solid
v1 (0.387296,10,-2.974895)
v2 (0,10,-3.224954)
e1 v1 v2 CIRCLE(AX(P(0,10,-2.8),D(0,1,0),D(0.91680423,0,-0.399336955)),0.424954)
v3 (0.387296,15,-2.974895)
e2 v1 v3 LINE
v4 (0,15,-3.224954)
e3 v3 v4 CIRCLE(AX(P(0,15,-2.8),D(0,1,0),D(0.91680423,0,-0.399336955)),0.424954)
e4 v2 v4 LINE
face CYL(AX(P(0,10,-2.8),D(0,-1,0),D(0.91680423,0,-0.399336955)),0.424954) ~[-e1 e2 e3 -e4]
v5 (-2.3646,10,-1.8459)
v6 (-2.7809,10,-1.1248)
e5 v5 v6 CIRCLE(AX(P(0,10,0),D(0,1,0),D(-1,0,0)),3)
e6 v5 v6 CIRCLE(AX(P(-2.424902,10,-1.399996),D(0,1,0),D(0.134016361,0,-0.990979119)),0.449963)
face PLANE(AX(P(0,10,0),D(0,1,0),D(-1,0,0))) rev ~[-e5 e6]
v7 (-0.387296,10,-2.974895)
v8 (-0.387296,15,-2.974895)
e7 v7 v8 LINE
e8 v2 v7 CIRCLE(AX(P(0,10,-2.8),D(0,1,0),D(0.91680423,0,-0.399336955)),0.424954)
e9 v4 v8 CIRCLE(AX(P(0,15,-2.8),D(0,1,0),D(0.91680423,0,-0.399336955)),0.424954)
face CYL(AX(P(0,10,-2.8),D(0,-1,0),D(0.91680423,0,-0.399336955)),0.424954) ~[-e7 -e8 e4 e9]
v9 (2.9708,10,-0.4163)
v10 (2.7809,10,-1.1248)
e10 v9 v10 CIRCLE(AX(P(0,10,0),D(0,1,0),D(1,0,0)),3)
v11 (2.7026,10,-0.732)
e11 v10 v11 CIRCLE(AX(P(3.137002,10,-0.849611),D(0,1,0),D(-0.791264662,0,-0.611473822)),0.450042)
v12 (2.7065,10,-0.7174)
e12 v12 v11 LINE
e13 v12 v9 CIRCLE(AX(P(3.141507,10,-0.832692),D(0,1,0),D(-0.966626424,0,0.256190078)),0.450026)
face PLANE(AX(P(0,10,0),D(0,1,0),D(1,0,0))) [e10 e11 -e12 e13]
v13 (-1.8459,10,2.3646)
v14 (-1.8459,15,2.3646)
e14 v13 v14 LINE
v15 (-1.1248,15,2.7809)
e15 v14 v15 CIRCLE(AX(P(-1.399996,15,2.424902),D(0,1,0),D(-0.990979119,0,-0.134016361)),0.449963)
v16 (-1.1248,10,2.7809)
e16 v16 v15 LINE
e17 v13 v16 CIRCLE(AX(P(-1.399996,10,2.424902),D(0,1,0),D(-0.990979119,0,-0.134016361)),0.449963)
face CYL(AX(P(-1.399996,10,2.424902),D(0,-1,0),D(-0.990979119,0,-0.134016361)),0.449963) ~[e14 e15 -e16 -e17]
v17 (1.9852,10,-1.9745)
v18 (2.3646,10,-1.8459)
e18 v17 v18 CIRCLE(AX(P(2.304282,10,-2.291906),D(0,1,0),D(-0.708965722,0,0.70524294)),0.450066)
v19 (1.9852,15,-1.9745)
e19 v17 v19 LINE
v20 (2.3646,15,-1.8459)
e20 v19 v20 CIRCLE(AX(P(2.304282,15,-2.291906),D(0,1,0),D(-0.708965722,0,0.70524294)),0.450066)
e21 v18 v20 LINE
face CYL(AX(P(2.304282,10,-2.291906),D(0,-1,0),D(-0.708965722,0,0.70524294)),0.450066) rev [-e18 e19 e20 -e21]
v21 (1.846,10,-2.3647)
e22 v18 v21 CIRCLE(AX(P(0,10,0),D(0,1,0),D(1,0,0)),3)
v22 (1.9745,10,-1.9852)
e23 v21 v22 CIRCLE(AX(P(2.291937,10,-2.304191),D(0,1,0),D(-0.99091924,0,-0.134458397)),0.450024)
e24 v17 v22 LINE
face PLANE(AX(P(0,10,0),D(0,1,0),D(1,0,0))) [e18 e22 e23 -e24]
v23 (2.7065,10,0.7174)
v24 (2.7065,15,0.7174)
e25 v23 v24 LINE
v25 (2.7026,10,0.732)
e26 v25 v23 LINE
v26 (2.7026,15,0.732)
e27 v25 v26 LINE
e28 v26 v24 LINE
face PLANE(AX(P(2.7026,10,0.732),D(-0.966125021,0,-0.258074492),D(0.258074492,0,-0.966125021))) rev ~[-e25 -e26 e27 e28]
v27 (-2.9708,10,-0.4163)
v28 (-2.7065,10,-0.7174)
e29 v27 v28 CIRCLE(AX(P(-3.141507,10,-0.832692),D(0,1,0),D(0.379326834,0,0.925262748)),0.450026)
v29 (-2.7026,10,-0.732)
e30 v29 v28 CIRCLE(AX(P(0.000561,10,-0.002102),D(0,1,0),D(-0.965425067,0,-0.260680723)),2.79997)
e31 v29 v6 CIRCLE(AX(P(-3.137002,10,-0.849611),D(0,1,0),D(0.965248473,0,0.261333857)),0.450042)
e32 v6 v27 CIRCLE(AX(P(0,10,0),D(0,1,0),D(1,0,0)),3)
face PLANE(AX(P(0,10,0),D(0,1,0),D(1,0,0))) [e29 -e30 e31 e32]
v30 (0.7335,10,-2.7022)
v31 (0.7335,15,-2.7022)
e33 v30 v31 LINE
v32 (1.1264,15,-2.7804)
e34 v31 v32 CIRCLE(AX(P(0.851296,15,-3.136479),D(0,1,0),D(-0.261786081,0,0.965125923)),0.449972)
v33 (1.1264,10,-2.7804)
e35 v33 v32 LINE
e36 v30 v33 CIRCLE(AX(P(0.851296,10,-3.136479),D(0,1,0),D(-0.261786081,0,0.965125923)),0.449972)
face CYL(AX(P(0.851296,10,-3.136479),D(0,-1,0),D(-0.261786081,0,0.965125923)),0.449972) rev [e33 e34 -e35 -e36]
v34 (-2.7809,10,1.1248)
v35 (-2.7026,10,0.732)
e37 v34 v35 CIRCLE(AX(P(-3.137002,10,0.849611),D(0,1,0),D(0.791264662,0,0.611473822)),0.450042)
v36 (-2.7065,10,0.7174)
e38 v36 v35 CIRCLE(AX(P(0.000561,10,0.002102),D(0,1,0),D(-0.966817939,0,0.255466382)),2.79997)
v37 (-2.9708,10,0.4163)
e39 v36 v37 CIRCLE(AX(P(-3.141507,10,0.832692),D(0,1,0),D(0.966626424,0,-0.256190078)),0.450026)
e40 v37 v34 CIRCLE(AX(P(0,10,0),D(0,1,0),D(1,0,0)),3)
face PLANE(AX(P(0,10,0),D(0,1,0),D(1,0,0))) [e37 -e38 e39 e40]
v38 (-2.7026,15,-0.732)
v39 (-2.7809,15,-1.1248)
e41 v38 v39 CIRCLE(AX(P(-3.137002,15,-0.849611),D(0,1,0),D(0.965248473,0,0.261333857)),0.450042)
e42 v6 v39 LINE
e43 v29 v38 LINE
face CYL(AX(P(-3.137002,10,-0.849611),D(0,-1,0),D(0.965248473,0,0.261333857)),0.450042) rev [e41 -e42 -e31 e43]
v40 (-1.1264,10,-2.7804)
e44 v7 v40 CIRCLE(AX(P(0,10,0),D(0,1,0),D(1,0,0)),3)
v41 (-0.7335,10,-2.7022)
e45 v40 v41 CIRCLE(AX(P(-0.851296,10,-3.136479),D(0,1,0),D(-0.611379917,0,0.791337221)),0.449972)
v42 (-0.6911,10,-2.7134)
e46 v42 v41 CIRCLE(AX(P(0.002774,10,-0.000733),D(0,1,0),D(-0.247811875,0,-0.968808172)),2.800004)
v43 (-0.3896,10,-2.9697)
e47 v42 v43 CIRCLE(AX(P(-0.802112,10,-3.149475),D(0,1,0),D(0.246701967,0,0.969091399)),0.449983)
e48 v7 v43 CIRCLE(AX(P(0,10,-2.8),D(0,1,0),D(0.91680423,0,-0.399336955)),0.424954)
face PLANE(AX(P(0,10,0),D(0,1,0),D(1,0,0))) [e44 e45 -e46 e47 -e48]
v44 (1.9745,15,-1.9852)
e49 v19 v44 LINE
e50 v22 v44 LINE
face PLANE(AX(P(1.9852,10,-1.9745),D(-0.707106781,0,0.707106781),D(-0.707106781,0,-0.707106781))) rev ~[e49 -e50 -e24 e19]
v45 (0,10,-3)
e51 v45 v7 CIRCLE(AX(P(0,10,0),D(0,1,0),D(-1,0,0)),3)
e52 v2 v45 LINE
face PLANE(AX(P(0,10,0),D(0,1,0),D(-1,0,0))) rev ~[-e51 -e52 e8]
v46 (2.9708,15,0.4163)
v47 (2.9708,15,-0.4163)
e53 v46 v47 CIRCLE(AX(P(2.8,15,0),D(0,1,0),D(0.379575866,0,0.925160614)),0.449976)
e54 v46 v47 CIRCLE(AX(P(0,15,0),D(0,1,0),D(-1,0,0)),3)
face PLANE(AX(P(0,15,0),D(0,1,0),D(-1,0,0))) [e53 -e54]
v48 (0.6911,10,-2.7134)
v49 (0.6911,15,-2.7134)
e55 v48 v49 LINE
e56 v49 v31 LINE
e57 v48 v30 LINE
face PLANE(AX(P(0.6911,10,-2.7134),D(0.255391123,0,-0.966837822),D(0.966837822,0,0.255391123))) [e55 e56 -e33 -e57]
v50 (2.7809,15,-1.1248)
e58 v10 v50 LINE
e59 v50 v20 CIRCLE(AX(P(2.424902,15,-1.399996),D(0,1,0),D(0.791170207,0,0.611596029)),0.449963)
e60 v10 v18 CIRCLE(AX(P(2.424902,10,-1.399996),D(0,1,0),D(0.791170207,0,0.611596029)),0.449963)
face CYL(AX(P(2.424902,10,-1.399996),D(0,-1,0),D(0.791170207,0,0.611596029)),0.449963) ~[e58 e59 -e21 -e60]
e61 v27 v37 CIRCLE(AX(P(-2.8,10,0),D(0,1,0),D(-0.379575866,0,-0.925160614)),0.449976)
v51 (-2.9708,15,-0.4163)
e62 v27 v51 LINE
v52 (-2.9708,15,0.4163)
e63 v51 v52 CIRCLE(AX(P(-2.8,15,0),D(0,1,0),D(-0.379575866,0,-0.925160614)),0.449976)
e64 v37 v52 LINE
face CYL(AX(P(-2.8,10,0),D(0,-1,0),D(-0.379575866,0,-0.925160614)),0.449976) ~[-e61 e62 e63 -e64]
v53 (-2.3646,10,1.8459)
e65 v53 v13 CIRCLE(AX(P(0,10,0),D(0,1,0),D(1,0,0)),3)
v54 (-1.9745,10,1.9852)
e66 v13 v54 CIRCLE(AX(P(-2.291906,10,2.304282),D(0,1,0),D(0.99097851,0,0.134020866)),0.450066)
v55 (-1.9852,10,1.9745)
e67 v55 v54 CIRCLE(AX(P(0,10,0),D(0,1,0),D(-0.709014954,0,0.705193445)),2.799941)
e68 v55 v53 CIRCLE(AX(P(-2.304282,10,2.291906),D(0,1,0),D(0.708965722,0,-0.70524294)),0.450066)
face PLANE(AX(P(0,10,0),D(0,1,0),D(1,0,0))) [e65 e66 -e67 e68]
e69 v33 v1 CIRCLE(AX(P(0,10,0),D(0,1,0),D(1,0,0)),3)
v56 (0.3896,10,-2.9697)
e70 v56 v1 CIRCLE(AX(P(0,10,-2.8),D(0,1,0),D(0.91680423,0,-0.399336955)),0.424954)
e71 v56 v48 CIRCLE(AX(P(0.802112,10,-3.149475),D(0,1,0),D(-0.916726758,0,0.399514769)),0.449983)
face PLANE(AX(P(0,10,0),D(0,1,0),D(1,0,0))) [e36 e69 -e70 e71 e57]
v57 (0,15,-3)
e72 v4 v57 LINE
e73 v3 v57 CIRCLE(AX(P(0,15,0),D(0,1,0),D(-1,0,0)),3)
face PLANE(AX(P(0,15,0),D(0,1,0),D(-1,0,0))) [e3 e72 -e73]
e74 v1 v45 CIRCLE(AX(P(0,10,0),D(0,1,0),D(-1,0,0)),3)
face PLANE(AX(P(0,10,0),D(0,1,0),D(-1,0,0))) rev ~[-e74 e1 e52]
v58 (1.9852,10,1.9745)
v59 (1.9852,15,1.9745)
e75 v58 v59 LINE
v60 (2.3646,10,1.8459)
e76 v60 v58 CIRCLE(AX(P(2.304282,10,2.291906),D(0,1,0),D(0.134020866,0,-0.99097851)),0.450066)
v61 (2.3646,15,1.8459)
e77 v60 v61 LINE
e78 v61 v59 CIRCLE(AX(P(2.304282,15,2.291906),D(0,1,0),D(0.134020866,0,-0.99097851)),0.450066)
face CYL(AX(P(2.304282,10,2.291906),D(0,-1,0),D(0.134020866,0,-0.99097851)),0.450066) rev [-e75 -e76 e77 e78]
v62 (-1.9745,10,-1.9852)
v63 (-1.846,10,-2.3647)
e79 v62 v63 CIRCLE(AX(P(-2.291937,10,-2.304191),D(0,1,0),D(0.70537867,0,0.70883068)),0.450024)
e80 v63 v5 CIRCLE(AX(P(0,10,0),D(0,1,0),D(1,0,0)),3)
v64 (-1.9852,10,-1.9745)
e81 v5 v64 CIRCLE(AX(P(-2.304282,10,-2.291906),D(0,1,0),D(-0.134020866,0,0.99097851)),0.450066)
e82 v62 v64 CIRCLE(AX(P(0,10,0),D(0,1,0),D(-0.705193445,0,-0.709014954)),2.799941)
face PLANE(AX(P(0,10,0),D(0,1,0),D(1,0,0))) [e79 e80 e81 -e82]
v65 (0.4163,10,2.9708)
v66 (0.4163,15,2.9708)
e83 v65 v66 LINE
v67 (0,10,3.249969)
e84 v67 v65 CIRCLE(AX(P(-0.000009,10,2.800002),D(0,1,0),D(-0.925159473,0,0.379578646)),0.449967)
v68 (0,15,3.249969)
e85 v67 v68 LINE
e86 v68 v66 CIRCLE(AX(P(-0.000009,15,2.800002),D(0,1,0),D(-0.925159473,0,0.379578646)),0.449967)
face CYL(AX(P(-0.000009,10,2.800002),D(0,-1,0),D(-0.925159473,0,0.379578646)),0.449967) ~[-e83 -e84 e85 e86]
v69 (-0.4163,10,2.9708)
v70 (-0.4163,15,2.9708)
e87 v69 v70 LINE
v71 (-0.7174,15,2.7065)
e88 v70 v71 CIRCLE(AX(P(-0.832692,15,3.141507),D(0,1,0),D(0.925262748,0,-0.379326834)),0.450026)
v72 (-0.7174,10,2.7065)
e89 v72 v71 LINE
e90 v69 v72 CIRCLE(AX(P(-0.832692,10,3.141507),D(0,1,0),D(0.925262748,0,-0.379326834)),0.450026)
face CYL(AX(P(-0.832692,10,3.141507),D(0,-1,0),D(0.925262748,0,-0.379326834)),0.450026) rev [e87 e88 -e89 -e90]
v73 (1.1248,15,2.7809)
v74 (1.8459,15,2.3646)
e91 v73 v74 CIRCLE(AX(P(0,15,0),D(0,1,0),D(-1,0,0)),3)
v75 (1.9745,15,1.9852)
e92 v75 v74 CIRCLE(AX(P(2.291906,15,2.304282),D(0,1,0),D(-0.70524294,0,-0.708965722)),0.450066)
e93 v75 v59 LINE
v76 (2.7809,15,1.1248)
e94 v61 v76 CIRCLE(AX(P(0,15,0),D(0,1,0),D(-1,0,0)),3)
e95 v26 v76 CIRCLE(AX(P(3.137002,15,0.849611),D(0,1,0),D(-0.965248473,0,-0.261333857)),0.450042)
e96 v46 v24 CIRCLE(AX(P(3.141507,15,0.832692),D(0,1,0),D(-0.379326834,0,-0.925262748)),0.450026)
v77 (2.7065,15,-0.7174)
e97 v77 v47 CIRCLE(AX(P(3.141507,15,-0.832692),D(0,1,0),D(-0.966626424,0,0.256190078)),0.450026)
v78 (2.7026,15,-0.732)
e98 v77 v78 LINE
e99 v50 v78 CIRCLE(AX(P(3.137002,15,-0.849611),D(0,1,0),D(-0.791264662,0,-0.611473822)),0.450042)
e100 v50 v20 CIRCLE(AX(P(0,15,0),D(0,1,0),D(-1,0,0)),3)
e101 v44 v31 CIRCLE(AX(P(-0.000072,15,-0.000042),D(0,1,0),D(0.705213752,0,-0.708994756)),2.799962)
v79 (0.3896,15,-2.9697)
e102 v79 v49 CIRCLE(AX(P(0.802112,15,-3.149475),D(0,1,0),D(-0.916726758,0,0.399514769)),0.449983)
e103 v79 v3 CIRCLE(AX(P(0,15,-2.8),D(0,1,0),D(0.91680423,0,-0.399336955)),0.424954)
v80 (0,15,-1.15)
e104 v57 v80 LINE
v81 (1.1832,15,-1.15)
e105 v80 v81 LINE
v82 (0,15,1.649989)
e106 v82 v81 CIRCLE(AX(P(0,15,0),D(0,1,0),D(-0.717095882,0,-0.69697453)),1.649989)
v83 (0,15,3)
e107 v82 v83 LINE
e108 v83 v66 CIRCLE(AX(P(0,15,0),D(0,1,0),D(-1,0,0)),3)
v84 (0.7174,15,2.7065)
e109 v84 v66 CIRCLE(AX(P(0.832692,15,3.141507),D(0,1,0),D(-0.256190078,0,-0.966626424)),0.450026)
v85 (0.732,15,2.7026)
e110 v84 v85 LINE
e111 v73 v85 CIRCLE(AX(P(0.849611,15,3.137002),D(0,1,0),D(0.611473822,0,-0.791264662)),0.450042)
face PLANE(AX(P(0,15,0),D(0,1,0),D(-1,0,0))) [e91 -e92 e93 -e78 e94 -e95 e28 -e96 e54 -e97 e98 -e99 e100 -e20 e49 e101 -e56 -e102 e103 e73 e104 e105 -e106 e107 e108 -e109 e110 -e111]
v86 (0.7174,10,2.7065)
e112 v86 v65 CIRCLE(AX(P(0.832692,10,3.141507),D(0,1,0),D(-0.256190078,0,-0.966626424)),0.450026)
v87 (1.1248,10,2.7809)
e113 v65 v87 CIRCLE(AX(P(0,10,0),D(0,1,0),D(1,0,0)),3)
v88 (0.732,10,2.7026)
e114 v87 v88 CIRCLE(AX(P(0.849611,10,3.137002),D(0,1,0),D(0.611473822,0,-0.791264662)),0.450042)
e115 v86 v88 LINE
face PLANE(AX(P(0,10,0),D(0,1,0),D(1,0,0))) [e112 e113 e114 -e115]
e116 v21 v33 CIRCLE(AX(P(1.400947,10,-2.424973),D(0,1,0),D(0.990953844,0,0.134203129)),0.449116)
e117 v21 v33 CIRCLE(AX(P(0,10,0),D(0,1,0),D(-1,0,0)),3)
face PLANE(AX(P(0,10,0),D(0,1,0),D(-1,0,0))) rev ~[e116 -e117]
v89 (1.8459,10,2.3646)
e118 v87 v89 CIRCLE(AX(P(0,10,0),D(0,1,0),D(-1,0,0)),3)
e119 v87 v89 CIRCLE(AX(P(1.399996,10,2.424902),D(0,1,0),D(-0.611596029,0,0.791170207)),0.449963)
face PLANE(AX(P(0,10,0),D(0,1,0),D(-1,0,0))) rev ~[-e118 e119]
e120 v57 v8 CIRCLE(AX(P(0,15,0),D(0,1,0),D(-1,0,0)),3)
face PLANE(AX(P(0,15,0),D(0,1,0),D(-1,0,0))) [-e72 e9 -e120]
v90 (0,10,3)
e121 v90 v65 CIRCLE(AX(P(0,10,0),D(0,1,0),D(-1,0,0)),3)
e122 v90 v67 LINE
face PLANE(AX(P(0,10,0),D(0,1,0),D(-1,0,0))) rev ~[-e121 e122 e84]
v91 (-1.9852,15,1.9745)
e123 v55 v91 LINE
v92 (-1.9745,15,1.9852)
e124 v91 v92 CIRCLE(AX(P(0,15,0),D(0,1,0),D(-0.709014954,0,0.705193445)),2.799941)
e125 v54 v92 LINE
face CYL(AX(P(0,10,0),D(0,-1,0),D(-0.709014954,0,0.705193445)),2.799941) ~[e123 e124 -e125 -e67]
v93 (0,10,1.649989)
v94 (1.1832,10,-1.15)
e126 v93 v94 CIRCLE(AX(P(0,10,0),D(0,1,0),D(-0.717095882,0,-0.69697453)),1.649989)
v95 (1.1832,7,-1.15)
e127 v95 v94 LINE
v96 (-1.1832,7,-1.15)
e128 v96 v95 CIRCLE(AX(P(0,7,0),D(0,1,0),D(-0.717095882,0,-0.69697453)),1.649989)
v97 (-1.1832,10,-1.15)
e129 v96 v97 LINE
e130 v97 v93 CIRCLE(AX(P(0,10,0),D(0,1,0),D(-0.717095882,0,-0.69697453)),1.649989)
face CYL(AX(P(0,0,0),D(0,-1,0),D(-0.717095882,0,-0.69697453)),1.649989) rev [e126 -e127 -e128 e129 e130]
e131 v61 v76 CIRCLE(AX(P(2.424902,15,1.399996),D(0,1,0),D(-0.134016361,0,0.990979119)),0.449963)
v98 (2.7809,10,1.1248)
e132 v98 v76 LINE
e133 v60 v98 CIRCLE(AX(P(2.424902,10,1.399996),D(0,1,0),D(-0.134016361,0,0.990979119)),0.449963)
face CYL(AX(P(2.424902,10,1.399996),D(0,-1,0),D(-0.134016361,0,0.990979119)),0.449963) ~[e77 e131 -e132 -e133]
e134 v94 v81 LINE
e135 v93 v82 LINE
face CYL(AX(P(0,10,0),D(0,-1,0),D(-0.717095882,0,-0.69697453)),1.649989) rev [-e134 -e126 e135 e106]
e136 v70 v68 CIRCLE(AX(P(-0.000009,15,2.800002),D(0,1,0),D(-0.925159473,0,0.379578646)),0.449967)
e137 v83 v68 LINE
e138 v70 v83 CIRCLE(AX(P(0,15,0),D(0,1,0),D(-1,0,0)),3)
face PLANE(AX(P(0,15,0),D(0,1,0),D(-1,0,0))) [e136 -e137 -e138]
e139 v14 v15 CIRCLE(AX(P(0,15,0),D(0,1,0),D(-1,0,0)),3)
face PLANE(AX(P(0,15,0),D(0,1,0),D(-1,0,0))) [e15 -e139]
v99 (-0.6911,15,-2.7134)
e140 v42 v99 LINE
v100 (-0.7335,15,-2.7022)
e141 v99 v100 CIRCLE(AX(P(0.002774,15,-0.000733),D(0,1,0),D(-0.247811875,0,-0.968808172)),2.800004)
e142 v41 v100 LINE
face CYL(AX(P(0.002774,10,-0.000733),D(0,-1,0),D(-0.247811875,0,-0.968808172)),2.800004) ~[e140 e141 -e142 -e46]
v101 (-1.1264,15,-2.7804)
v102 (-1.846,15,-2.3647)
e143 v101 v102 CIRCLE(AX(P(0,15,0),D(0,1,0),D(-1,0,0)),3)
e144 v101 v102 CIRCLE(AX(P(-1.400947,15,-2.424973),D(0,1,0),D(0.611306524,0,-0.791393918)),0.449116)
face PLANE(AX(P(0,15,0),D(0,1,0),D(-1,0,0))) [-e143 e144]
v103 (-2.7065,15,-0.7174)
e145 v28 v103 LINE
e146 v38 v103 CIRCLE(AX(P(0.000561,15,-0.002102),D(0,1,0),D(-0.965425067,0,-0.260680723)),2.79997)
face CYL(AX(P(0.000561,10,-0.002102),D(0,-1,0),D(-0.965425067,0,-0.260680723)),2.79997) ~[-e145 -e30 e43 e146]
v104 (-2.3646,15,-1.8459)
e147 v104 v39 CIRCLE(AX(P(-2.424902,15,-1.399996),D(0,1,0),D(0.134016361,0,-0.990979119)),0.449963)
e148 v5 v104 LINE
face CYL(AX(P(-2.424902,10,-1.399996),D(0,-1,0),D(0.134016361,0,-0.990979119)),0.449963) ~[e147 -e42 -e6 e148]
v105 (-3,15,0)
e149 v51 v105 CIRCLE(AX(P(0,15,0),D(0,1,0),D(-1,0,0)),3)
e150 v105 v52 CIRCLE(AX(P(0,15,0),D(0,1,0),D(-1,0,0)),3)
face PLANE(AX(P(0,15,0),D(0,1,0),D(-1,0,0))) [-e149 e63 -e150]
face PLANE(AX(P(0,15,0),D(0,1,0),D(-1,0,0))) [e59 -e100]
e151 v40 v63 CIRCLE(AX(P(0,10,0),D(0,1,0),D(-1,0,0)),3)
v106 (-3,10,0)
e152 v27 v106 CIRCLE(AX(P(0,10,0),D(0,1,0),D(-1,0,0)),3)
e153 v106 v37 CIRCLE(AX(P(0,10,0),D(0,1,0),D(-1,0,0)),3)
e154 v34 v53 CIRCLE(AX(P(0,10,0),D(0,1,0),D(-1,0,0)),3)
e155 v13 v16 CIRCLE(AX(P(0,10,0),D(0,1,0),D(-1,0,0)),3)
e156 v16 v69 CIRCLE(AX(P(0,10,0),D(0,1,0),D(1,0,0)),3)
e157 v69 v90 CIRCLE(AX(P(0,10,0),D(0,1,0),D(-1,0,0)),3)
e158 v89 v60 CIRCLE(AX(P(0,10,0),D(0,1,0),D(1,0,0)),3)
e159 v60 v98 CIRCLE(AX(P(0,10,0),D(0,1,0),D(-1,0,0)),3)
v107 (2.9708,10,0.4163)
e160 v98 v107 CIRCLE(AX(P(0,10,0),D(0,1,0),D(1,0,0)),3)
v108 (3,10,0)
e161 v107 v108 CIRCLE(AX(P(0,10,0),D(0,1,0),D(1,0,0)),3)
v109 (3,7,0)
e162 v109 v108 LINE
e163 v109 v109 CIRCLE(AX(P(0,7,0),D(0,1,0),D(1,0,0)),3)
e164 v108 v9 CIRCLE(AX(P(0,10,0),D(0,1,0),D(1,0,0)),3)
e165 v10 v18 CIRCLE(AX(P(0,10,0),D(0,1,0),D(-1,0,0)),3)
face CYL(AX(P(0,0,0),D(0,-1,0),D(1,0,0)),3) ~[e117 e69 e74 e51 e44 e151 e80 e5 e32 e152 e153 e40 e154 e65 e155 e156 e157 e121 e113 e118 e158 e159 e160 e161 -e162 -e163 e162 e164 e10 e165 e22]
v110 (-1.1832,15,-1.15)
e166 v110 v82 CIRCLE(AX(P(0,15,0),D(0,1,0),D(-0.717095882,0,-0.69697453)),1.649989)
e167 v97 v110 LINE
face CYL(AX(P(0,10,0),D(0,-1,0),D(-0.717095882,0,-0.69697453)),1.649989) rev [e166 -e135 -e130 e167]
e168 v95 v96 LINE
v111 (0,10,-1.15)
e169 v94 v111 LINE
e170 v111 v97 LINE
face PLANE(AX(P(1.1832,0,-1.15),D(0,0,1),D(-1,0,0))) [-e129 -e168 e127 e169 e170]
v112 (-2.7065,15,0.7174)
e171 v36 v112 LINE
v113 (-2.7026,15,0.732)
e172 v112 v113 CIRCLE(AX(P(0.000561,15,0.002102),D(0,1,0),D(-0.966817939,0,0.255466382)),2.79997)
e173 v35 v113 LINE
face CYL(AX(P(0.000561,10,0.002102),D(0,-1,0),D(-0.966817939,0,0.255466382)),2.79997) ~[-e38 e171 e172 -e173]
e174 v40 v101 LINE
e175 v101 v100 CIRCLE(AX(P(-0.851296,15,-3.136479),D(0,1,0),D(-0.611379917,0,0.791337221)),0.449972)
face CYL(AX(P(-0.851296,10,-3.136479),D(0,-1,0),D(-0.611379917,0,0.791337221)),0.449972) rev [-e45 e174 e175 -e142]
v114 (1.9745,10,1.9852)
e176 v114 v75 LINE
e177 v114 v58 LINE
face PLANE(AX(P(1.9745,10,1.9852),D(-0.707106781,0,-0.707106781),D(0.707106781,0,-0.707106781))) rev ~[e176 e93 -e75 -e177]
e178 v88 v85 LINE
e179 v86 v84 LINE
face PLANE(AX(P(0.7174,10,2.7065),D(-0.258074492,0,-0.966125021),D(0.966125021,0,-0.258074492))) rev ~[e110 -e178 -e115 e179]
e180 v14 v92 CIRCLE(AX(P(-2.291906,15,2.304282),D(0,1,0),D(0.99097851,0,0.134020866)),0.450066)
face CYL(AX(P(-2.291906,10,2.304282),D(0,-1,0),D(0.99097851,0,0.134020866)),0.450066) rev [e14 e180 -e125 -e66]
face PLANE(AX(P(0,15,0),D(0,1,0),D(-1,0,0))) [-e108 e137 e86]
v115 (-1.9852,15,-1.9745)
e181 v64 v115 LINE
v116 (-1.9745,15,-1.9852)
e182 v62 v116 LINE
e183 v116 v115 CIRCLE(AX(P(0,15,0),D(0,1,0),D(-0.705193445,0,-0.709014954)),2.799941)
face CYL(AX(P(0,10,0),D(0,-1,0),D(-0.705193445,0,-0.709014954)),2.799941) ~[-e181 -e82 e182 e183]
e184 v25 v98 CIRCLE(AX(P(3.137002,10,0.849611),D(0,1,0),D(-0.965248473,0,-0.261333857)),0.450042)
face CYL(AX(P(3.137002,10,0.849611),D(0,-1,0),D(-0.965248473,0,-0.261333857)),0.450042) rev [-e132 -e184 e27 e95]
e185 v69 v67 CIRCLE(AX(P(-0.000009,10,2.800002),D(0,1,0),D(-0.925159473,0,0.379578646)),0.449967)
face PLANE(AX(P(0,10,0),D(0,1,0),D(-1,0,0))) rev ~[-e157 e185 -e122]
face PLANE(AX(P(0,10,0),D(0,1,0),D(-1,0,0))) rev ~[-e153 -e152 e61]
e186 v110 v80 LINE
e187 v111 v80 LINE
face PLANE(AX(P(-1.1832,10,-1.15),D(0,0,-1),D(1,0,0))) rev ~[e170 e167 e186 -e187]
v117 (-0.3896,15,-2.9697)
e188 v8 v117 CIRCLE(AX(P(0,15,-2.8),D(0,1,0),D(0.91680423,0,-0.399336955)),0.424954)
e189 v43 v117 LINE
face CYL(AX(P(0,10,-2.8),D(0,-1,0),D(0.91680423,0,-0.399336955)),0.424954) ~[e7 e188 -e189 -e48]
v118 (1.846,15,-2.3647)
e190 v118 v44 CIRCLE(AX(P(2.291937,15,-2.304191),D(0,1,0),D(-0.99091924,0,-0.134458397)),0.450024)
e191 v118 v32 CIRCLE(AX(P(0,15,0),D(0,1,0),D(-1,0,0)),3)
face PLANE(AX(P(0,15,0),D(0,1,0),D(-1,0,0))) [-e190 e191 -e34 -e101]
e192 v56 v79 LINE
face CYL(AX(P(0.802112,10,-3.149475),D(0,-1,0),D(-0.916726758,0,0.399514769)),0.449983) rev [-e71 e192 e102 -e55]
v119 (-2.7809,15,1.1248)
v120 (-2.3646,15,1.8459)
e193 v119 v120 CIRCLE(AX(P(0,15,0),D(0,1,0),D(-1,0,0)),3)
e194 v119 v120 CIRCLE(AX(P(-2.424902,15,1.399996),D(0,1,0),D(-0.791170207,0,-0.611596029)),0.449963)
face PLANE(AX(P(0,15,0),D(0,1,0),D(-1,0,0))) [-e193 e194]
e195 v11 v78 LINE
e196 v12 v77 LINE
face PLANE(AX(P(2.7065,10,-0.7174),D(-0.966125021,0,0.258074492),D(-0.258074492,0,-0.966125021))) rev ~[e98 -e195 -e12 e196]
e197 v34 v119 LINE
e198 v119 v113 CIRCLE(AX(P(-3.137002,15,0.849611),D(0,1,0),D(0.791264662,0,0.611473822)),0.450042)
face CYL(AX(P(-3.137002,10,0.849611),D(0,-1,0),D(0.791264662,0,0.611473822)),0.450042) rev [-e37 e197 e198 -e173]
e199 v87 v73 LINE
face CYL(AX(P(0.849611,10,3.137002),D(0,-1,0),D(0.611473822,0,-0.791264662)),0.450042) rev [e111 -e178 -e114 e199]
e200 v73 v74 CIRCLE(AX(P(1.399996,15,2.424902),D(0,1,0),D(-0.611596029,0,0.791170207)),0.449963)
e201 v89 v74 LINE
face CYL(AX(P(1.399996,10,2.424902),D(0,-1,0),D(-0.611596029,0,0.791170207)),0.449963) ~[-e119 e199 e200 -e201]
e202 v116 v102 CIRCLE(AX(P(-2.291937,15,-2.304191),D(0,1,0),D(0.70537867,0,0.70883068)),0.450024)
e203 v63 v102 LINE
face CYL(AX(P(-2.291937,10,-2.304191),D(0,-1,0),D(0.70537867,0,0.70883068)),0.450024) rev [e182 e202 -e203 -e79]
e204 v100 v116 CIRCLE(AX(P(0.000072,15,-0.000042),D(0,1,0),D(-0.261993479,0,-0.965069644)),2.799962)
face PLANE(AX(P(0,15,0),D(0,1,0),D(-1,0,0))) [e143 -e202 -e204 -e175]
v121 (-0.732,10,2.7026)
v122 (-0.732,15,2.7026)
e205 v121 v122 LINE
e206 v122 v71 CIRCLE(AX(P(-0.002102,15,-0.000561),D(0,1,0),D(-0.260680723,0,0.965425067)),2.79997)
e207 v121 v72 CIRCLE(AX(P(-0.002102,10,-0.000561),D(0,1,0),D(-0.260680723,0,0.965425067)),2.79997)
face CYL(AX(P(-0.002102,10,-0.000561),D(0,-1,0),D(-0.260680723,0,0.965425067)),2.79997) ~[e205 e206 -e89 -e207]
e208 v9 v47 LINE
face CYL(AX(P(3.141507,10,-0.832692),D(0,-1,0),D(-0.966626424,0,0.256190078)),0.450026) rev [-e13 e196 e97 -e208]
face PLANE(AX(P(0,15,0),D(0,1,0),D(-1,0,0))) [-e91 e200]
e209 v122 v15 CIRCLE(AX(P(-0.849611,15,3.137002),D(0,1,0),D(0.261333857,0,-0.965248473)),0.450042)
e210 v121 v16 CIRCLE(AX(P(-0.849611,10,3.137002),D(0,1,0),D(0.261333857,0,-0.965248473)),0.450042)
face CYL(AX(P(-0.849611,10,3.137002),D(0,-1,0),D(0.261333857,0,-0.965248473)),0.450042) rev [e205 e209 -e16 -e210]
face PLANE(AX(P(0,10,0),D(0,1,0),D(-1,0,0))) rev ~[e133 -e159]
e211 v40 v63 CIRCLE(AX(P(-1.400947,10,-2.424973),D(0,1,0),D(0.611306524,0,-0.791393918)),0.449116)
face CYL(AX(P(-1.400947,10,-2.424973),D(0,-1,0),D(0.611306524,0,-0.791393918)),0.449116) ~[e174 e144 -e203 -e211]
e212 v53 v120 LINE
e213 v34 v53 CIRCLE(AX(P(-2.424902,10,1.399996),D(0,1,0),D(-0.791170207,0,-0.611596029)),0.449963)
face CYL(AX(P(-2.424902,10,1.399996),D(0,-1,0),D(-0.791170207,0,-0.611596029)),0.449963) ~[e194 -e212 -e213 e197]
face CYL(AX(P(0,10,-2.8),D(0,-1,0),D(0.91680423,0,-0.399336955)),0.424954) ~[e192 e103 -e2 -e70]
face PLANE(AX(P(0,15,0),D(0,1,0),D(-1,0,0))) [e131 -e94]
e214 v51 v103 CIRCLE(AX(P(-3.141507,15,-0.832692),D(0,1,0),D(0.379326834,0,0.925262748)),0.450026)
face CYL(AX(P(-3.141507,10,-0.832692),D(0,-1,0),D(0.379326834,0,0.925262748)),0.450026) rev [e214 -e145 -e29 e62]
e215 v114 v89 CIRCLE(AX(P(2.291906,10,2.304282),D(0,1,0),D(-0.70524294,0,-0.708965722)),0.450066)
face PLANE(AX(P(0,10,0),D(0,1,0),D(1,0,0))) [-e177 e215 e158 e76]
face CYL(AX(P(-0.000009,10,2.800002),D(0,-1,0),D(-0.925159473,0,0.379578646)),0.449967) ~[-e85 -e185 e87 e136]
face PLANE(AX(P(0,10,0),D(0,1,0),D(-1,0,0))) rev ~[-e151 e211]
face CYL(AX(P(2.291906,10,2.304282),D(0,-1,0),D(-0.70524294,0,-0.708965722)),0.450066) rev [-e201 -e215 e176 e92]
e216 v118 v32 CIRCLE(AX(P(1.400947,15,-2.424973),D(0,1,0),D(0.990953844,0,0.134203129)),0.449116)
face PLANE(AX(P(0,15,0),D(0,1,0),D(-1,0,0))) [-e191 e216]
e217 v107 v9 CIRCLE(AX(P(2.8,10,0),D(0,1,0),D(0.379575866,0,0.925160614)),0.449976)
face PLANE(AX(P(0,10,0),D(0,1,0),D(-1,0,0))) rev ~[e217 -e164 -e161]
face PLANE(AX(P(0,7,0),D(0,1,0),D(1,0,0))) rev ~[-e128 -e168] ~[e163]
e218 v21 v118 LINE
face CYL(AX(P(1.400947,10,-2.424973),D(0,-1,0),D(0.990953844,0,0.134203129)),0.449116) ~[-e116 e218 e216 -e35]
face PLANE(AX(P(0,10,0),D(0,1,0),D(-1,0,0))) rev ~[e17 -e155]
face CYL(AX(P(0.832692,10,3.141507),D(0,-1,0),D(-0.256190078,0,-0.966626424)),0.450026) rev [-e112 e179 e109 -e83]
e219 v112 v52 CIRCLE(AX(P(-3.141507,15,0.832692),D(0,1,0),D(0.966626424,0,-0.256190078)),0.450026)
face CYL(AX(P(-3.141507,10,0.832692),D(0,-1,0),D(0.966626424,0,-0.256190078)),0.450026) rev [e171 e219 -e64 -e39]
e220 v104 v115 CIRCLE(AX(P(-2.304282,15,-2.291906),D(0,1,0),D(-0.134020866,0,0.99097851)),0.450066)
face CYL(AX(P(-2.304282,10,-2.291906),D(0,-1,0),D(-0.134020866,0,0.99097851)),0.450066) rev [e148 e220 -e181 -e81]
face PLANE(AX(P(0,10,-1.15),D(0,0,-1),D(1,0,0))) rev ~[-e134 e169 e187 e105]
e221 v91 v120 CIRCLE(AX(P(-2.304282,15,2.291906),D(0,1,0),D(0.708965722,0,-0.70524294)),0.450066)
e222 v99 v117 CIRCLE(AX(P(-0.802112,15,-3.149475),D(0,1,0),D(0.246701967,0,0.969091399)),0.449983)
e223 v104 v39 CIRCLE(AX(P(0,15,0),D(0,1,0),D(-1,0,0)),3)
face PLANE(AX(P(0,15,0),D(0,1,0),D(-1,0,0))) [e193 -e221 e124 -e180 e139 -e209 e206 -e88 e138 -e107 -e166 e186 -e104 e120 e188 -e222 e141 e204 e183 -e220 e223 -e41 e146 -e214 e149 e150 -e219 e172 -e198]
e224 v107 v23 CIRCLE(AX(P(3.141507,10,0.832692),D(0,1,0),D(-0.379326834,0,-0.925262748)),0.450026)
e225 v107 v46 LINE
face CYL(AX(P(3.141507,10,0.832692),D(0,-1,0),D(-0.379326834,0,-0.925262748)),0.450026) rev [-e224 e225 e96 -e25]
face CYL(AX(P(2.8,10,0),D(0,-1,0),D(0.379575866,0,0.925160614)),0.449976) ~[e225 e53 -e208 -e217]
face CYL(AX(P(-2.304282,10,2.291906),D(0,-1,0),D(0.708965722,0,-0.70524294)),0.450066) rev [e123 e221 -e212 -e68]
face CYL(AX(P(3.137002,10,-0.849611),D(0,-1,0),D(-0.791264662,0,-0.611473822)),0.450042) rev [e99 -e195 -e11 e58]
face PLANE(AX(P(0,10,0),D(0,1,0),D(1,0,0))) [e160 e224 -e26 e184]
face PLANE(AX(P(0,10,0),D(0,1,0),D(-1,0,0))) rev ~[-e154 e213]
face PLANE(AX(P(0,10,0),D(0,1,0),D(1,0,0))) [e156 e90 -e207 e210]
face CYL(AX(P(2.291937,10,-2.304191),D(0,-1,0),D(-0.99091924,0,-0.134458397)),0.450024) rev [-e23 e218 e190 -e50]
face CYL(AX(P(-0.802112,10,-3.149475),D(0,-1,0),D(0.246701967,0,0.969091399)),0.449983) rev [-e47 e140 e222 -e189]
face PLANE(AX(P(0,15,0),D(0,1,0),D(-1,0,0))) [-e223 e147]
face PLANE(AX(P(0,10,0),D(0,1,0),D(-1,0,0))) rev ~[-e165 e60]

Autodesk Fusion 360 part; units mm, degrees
sketch "Sketch1" plane through (0, 0, 0) normal (0, 1, 0) x (1, 0, 0)
  circle A0 centre (0, 0) radius 3
  line L0 (0, -1.5) -> (0, 1)
  line L1 (0, 1) -> (1.118, 1)
  line L2 (1.118, 1) -> (-1.118, 1)
  arc A1 (-1.118, 1) -> (1.118, 1) centre (0, 0) ccw
  line L3 (1.1832, 1.15) -> (-1.1832, 1.15)
  arc A2 (-1.1832, 1.15) -> (1.1832, 1.15) centre (0, 0) ccw
  dimension "d1" = 3
  dimension "d2" = 6
  dimension "d3" = 2.5
  dimension "d4" = 1
  dimension "d5" = 0.15
extrude "Extrude1" add sketch "Sketch1" along normal blind 10 contours A0
sketch "Sketch2" plane through (0, 10, 0) normal (0, 1, 0) x (-1, 0, 0)
  arc A0 (1.1832, -1.15) -> (-1.1832, -1.15) centre (0, 0) ccw
  line L0 (1.1832, -1.15) -> (-1.1832, -1.15)
  circle A1 centre (0, 0) radius 3
  circle A2 centre (0, 0) radius 3.4
  arc A3 (1.1264, -2.7804) -> (1.846, -2.3647) centre (1.4009, -2.425) ccw
  arc A4 (-0.3896, -2.9697) -> (0.3896, -2.9697) centre (0, -2.8) ccw
  arc A5 (1.9745, -1.9852) -> (1.9852, -1.9745) centre (0, 0) ccw
  arc A6 (0.6911, -2.7134) -> (0.7335, -2.7022) centre (0, 0) ccw
  arc A7 (1.1264, -2.7804) -> (0.7335, -2.7022) centre (0.8514, -3.1365) ccw
  arc A8 (0.6911, -2.7134) -> (0.3896, -2.9697) centre (0.8022, -3.1494) ccw
  arc A9 (-0.3896, -2.9697) -> (-0.6911, -2.7134) centre (-0.8022, -3.1494) ccw
  arc A10 (1.9745, -1.9852) -> (1.846, -2.3647) centre (2.2919, -2.3043) ccw
  arc A11 (2.3646, -1.8459) -> (2.7809, -1.1248) centre (2.4249, -1.4) ccw
  arc A12 (2.9708, -0.4163) -> (2.9708, 0.4163) centre (2.8, 0) ccw
  arc A13 (2.7809, 1.1248) -> (2.3646, 1.8459) centre (2.4249, 1.4) ccw
  arc A14 (1.8459, 2.3646) -> (1.1248, 2.7809) centre (1.4, 2.4249) ccw
  arc A15 (0.4163, 2.9708) -> (-0.4485, 2.7638) centre (0, 2.8) ccw
  arc A16 (2.3646, -1.8459) -> (1.9852, -1.9745) centre (2.3043, -2.2919) ccw
  arc A17 (2.7065, 0.7174) -> (2.7026, 0.732) centre (0, 0) ccw
  arc A18 (2.7026, -0.732) -> (2.7065, -0.7174) centre (0, 0) ccw
  arc A19 (2.9708, -0.4163) -> (2.7065, -0.7174) centre (3.1415, -0.8327) ccw
  arc A20 (2.7026, -0.732) -> (2.7809, -1.1248) centre (3.137, -0.8496) ccw
  arc A21 (2.7065, 0.7174) -> (2.9708, 0.4163) centre (3.1415, 0.8327) ccw
  arc A22 (2.7809, 1.1248) -> (2.7026, 0.732) centre (3.137, 0.8496) ccw
  arc A23 (1.9852, 1.9745) -> (1.9745, 1.9852) centre (0, 0) ccw
  arc A24 (0.7335, -2.7022) -> (1.9745, -1.9852) centre (0, 0) ccw
  arc A25 (1.9852, 1.9745) -> (2.3646, 1.8459) centre (2.3043, 2.2919) ccw
  arc A26 (1.8459, 2.3646) -> (1.9745, 1.9852) centre (2.2919, 2.3043) ccw
  arc A27 (0.732, 2.7026) -> (0.7174, 2.7065) centre (0, 0) ccw
  arc A28 (0.732, 2.7026) -> (1.1248, 2.7809) centre (0.8496, 3.137) ccw
  arc A29 (0.4163, 2.9708) -> (0.7174, 2.7065) centre (0.8327, 3.1415) ccw
  line L1 (0, -4) -> (0, 4.5)
  arc A30 (-0.3896, -2.9697) -> (0.3896, -2.9697) centre (0, -2.8) ccw
  arc A31 (-0.3896, -2.9697) -> (-0.6911, -2.7134) centre (-0.8022, -3.1494) ccw
  arc A32 (-1.9745, -1.9852) -> (-0.7335, -2.7022) centre (0, 0) ccw
  arc A33 (-0.7335, -2.7022) -> (-1.1264, -2.7804) centre (-0.8514, -3.1365) ccw
  arc A34 (-1.846, -2.3647) -> (-1.1264, -2.7804) centre (-1.4009, -2.425) ccw
  arc A35 (-1.846, -2.3647) -> (-1.9745, -1.9852) centre (-2.2919, -2.3043) ccw
  arc A36 (-1.9852, -1.9745) -> (-2.3646, -1.8459) centre (-2.3043, -2.2919) ccw
  arc A37 (-2.7809, -1.1248) -> (-2.3646, -1.8459) centre (-2.4249, -1.4) ccw
  arc A38 (-2.7809, -1.1248) -> (-2.7026, -0.732) centre (-3.137, -0.8496) ccw
  arc A39 (-2.7065, -0.7174) -> (-2.9708, -0.4163) centre (-3.1415, -0.8327) ccw
  arc A40 (-2.9708, 0.4163) -> (-2.9708, -0.4163) centre (-2.8, 0) ccw
  arc A41 (-2.9708, 0.4163) -> (-2.7065, 0.7174) centre (-3.1415, 0.8327) ccw
  arc A42 (-2.7026, 0.732) -> (-2.7809, 1.1248) centre (-3.137, 0.8496) ccw
  arc A43 (-2.3646, 1.8459) -> (-2.7809, 1.1248) centre (-2.4249, 1.4) ccw
  arc A44 (-1.1248, 2.7809) -> (-1.8459, 2.3646) centre (-1.4, 2.4249) ccw
  arc A45 (0.4485, 2.7638) -> (-0.4163, 2.9708) centre (0, 2.8) ccw
  circle A46 centre (0, 0) radius 3
  arc A47 (-2.3646, 1.8459) -> (-1.9852, 1.9745) centre (-2.3043, 2.2919) ccw
  arc A48 (-1.9745, 1.9852) -> (-1.8459, 2.3646) centre (-2.2919, 2.3043) ccw
  arc A49 (-1.1248, 2.7809) -> (-0.732, 2.7026) centre (-0.8496, 3.137) ccw
  arc A50 (-0.7174, 2.7065) -> (-0.4163, 2.9708) centre (-0.8327, 3.1415) ccw
  line L2 (-1.9745, 1.9852) -> (-1.9852, 1.9745)
  line L3 (-0.7174, 2.7065) -> (-0.732, 2.7026)
  line L4 (-2.7026, 0.732) -> (-2.7065, 0.7174)
  line L5 (-2.7065, -0.7174) -> (-2.7026, -0.732)
  line L6 (-1.9852, -1.9745) -> (-1.9745, -1.9852)
  line L7 (-0.6911, -2.7134) -> (-0.7335, -2.7022)
  dimension "d8" = 6.8
  dimension "d9" = 5.6
  dimension "d10" = 0.85
  dimension "d13" = 0.45
  dimension "d14" = 0.45
  dimension "d15" = 0.45
  dimension "d16" = 0.45
  dimension "d17" = 0.45
  dimension "d18" = 0.45
  dimension "d19" = 0.45
  dimension "d20" = 0.45
  dimension "d21" = 0.45
  dimension "d22" = 0.45
  dimension "d23" = 0.45
  dimension "d24" = 0.45
  dimension "d25" = 0.45
extrude "Extrude2" add sketch "Sketch2" along normal blind 5 contours A0 L0 A1 A4 A5 A6 A8 A16 A17 A18 A19 A20 A21 A22 A23 A24 A25 A26 A27 A28 A29 L1 A30 A46 | A0 L0 A1 A4 A9 L1 A30 A31 A32 A36 A38 A39 A41 A42 A46 A47 A48 A49 A50 L2 L3 L4 L5 L6 L7 | A1 A15 L1 A45 A46 | A1 A15 L1 A45 A46 | A1 A4 L1 A30 A46 | A1 A4 L1 A30 A46 | A1 A14 A46 | A1 A44 A46 | A1 A34 A46 | A1 A32 A33 A35 A46 | A1 A7 A10 A24 A46 | A1 A3 A46 | A1 A13 A46 | A1 A43 A46 | A1 A37 A46 | A1 A11 A46 | A1 A12 A46 | A1 A40 A46
extrude "Extrude3" cut 1 faces at (0.0747, 0, -1.7639) along direction (0, 1, 0) blind 7
